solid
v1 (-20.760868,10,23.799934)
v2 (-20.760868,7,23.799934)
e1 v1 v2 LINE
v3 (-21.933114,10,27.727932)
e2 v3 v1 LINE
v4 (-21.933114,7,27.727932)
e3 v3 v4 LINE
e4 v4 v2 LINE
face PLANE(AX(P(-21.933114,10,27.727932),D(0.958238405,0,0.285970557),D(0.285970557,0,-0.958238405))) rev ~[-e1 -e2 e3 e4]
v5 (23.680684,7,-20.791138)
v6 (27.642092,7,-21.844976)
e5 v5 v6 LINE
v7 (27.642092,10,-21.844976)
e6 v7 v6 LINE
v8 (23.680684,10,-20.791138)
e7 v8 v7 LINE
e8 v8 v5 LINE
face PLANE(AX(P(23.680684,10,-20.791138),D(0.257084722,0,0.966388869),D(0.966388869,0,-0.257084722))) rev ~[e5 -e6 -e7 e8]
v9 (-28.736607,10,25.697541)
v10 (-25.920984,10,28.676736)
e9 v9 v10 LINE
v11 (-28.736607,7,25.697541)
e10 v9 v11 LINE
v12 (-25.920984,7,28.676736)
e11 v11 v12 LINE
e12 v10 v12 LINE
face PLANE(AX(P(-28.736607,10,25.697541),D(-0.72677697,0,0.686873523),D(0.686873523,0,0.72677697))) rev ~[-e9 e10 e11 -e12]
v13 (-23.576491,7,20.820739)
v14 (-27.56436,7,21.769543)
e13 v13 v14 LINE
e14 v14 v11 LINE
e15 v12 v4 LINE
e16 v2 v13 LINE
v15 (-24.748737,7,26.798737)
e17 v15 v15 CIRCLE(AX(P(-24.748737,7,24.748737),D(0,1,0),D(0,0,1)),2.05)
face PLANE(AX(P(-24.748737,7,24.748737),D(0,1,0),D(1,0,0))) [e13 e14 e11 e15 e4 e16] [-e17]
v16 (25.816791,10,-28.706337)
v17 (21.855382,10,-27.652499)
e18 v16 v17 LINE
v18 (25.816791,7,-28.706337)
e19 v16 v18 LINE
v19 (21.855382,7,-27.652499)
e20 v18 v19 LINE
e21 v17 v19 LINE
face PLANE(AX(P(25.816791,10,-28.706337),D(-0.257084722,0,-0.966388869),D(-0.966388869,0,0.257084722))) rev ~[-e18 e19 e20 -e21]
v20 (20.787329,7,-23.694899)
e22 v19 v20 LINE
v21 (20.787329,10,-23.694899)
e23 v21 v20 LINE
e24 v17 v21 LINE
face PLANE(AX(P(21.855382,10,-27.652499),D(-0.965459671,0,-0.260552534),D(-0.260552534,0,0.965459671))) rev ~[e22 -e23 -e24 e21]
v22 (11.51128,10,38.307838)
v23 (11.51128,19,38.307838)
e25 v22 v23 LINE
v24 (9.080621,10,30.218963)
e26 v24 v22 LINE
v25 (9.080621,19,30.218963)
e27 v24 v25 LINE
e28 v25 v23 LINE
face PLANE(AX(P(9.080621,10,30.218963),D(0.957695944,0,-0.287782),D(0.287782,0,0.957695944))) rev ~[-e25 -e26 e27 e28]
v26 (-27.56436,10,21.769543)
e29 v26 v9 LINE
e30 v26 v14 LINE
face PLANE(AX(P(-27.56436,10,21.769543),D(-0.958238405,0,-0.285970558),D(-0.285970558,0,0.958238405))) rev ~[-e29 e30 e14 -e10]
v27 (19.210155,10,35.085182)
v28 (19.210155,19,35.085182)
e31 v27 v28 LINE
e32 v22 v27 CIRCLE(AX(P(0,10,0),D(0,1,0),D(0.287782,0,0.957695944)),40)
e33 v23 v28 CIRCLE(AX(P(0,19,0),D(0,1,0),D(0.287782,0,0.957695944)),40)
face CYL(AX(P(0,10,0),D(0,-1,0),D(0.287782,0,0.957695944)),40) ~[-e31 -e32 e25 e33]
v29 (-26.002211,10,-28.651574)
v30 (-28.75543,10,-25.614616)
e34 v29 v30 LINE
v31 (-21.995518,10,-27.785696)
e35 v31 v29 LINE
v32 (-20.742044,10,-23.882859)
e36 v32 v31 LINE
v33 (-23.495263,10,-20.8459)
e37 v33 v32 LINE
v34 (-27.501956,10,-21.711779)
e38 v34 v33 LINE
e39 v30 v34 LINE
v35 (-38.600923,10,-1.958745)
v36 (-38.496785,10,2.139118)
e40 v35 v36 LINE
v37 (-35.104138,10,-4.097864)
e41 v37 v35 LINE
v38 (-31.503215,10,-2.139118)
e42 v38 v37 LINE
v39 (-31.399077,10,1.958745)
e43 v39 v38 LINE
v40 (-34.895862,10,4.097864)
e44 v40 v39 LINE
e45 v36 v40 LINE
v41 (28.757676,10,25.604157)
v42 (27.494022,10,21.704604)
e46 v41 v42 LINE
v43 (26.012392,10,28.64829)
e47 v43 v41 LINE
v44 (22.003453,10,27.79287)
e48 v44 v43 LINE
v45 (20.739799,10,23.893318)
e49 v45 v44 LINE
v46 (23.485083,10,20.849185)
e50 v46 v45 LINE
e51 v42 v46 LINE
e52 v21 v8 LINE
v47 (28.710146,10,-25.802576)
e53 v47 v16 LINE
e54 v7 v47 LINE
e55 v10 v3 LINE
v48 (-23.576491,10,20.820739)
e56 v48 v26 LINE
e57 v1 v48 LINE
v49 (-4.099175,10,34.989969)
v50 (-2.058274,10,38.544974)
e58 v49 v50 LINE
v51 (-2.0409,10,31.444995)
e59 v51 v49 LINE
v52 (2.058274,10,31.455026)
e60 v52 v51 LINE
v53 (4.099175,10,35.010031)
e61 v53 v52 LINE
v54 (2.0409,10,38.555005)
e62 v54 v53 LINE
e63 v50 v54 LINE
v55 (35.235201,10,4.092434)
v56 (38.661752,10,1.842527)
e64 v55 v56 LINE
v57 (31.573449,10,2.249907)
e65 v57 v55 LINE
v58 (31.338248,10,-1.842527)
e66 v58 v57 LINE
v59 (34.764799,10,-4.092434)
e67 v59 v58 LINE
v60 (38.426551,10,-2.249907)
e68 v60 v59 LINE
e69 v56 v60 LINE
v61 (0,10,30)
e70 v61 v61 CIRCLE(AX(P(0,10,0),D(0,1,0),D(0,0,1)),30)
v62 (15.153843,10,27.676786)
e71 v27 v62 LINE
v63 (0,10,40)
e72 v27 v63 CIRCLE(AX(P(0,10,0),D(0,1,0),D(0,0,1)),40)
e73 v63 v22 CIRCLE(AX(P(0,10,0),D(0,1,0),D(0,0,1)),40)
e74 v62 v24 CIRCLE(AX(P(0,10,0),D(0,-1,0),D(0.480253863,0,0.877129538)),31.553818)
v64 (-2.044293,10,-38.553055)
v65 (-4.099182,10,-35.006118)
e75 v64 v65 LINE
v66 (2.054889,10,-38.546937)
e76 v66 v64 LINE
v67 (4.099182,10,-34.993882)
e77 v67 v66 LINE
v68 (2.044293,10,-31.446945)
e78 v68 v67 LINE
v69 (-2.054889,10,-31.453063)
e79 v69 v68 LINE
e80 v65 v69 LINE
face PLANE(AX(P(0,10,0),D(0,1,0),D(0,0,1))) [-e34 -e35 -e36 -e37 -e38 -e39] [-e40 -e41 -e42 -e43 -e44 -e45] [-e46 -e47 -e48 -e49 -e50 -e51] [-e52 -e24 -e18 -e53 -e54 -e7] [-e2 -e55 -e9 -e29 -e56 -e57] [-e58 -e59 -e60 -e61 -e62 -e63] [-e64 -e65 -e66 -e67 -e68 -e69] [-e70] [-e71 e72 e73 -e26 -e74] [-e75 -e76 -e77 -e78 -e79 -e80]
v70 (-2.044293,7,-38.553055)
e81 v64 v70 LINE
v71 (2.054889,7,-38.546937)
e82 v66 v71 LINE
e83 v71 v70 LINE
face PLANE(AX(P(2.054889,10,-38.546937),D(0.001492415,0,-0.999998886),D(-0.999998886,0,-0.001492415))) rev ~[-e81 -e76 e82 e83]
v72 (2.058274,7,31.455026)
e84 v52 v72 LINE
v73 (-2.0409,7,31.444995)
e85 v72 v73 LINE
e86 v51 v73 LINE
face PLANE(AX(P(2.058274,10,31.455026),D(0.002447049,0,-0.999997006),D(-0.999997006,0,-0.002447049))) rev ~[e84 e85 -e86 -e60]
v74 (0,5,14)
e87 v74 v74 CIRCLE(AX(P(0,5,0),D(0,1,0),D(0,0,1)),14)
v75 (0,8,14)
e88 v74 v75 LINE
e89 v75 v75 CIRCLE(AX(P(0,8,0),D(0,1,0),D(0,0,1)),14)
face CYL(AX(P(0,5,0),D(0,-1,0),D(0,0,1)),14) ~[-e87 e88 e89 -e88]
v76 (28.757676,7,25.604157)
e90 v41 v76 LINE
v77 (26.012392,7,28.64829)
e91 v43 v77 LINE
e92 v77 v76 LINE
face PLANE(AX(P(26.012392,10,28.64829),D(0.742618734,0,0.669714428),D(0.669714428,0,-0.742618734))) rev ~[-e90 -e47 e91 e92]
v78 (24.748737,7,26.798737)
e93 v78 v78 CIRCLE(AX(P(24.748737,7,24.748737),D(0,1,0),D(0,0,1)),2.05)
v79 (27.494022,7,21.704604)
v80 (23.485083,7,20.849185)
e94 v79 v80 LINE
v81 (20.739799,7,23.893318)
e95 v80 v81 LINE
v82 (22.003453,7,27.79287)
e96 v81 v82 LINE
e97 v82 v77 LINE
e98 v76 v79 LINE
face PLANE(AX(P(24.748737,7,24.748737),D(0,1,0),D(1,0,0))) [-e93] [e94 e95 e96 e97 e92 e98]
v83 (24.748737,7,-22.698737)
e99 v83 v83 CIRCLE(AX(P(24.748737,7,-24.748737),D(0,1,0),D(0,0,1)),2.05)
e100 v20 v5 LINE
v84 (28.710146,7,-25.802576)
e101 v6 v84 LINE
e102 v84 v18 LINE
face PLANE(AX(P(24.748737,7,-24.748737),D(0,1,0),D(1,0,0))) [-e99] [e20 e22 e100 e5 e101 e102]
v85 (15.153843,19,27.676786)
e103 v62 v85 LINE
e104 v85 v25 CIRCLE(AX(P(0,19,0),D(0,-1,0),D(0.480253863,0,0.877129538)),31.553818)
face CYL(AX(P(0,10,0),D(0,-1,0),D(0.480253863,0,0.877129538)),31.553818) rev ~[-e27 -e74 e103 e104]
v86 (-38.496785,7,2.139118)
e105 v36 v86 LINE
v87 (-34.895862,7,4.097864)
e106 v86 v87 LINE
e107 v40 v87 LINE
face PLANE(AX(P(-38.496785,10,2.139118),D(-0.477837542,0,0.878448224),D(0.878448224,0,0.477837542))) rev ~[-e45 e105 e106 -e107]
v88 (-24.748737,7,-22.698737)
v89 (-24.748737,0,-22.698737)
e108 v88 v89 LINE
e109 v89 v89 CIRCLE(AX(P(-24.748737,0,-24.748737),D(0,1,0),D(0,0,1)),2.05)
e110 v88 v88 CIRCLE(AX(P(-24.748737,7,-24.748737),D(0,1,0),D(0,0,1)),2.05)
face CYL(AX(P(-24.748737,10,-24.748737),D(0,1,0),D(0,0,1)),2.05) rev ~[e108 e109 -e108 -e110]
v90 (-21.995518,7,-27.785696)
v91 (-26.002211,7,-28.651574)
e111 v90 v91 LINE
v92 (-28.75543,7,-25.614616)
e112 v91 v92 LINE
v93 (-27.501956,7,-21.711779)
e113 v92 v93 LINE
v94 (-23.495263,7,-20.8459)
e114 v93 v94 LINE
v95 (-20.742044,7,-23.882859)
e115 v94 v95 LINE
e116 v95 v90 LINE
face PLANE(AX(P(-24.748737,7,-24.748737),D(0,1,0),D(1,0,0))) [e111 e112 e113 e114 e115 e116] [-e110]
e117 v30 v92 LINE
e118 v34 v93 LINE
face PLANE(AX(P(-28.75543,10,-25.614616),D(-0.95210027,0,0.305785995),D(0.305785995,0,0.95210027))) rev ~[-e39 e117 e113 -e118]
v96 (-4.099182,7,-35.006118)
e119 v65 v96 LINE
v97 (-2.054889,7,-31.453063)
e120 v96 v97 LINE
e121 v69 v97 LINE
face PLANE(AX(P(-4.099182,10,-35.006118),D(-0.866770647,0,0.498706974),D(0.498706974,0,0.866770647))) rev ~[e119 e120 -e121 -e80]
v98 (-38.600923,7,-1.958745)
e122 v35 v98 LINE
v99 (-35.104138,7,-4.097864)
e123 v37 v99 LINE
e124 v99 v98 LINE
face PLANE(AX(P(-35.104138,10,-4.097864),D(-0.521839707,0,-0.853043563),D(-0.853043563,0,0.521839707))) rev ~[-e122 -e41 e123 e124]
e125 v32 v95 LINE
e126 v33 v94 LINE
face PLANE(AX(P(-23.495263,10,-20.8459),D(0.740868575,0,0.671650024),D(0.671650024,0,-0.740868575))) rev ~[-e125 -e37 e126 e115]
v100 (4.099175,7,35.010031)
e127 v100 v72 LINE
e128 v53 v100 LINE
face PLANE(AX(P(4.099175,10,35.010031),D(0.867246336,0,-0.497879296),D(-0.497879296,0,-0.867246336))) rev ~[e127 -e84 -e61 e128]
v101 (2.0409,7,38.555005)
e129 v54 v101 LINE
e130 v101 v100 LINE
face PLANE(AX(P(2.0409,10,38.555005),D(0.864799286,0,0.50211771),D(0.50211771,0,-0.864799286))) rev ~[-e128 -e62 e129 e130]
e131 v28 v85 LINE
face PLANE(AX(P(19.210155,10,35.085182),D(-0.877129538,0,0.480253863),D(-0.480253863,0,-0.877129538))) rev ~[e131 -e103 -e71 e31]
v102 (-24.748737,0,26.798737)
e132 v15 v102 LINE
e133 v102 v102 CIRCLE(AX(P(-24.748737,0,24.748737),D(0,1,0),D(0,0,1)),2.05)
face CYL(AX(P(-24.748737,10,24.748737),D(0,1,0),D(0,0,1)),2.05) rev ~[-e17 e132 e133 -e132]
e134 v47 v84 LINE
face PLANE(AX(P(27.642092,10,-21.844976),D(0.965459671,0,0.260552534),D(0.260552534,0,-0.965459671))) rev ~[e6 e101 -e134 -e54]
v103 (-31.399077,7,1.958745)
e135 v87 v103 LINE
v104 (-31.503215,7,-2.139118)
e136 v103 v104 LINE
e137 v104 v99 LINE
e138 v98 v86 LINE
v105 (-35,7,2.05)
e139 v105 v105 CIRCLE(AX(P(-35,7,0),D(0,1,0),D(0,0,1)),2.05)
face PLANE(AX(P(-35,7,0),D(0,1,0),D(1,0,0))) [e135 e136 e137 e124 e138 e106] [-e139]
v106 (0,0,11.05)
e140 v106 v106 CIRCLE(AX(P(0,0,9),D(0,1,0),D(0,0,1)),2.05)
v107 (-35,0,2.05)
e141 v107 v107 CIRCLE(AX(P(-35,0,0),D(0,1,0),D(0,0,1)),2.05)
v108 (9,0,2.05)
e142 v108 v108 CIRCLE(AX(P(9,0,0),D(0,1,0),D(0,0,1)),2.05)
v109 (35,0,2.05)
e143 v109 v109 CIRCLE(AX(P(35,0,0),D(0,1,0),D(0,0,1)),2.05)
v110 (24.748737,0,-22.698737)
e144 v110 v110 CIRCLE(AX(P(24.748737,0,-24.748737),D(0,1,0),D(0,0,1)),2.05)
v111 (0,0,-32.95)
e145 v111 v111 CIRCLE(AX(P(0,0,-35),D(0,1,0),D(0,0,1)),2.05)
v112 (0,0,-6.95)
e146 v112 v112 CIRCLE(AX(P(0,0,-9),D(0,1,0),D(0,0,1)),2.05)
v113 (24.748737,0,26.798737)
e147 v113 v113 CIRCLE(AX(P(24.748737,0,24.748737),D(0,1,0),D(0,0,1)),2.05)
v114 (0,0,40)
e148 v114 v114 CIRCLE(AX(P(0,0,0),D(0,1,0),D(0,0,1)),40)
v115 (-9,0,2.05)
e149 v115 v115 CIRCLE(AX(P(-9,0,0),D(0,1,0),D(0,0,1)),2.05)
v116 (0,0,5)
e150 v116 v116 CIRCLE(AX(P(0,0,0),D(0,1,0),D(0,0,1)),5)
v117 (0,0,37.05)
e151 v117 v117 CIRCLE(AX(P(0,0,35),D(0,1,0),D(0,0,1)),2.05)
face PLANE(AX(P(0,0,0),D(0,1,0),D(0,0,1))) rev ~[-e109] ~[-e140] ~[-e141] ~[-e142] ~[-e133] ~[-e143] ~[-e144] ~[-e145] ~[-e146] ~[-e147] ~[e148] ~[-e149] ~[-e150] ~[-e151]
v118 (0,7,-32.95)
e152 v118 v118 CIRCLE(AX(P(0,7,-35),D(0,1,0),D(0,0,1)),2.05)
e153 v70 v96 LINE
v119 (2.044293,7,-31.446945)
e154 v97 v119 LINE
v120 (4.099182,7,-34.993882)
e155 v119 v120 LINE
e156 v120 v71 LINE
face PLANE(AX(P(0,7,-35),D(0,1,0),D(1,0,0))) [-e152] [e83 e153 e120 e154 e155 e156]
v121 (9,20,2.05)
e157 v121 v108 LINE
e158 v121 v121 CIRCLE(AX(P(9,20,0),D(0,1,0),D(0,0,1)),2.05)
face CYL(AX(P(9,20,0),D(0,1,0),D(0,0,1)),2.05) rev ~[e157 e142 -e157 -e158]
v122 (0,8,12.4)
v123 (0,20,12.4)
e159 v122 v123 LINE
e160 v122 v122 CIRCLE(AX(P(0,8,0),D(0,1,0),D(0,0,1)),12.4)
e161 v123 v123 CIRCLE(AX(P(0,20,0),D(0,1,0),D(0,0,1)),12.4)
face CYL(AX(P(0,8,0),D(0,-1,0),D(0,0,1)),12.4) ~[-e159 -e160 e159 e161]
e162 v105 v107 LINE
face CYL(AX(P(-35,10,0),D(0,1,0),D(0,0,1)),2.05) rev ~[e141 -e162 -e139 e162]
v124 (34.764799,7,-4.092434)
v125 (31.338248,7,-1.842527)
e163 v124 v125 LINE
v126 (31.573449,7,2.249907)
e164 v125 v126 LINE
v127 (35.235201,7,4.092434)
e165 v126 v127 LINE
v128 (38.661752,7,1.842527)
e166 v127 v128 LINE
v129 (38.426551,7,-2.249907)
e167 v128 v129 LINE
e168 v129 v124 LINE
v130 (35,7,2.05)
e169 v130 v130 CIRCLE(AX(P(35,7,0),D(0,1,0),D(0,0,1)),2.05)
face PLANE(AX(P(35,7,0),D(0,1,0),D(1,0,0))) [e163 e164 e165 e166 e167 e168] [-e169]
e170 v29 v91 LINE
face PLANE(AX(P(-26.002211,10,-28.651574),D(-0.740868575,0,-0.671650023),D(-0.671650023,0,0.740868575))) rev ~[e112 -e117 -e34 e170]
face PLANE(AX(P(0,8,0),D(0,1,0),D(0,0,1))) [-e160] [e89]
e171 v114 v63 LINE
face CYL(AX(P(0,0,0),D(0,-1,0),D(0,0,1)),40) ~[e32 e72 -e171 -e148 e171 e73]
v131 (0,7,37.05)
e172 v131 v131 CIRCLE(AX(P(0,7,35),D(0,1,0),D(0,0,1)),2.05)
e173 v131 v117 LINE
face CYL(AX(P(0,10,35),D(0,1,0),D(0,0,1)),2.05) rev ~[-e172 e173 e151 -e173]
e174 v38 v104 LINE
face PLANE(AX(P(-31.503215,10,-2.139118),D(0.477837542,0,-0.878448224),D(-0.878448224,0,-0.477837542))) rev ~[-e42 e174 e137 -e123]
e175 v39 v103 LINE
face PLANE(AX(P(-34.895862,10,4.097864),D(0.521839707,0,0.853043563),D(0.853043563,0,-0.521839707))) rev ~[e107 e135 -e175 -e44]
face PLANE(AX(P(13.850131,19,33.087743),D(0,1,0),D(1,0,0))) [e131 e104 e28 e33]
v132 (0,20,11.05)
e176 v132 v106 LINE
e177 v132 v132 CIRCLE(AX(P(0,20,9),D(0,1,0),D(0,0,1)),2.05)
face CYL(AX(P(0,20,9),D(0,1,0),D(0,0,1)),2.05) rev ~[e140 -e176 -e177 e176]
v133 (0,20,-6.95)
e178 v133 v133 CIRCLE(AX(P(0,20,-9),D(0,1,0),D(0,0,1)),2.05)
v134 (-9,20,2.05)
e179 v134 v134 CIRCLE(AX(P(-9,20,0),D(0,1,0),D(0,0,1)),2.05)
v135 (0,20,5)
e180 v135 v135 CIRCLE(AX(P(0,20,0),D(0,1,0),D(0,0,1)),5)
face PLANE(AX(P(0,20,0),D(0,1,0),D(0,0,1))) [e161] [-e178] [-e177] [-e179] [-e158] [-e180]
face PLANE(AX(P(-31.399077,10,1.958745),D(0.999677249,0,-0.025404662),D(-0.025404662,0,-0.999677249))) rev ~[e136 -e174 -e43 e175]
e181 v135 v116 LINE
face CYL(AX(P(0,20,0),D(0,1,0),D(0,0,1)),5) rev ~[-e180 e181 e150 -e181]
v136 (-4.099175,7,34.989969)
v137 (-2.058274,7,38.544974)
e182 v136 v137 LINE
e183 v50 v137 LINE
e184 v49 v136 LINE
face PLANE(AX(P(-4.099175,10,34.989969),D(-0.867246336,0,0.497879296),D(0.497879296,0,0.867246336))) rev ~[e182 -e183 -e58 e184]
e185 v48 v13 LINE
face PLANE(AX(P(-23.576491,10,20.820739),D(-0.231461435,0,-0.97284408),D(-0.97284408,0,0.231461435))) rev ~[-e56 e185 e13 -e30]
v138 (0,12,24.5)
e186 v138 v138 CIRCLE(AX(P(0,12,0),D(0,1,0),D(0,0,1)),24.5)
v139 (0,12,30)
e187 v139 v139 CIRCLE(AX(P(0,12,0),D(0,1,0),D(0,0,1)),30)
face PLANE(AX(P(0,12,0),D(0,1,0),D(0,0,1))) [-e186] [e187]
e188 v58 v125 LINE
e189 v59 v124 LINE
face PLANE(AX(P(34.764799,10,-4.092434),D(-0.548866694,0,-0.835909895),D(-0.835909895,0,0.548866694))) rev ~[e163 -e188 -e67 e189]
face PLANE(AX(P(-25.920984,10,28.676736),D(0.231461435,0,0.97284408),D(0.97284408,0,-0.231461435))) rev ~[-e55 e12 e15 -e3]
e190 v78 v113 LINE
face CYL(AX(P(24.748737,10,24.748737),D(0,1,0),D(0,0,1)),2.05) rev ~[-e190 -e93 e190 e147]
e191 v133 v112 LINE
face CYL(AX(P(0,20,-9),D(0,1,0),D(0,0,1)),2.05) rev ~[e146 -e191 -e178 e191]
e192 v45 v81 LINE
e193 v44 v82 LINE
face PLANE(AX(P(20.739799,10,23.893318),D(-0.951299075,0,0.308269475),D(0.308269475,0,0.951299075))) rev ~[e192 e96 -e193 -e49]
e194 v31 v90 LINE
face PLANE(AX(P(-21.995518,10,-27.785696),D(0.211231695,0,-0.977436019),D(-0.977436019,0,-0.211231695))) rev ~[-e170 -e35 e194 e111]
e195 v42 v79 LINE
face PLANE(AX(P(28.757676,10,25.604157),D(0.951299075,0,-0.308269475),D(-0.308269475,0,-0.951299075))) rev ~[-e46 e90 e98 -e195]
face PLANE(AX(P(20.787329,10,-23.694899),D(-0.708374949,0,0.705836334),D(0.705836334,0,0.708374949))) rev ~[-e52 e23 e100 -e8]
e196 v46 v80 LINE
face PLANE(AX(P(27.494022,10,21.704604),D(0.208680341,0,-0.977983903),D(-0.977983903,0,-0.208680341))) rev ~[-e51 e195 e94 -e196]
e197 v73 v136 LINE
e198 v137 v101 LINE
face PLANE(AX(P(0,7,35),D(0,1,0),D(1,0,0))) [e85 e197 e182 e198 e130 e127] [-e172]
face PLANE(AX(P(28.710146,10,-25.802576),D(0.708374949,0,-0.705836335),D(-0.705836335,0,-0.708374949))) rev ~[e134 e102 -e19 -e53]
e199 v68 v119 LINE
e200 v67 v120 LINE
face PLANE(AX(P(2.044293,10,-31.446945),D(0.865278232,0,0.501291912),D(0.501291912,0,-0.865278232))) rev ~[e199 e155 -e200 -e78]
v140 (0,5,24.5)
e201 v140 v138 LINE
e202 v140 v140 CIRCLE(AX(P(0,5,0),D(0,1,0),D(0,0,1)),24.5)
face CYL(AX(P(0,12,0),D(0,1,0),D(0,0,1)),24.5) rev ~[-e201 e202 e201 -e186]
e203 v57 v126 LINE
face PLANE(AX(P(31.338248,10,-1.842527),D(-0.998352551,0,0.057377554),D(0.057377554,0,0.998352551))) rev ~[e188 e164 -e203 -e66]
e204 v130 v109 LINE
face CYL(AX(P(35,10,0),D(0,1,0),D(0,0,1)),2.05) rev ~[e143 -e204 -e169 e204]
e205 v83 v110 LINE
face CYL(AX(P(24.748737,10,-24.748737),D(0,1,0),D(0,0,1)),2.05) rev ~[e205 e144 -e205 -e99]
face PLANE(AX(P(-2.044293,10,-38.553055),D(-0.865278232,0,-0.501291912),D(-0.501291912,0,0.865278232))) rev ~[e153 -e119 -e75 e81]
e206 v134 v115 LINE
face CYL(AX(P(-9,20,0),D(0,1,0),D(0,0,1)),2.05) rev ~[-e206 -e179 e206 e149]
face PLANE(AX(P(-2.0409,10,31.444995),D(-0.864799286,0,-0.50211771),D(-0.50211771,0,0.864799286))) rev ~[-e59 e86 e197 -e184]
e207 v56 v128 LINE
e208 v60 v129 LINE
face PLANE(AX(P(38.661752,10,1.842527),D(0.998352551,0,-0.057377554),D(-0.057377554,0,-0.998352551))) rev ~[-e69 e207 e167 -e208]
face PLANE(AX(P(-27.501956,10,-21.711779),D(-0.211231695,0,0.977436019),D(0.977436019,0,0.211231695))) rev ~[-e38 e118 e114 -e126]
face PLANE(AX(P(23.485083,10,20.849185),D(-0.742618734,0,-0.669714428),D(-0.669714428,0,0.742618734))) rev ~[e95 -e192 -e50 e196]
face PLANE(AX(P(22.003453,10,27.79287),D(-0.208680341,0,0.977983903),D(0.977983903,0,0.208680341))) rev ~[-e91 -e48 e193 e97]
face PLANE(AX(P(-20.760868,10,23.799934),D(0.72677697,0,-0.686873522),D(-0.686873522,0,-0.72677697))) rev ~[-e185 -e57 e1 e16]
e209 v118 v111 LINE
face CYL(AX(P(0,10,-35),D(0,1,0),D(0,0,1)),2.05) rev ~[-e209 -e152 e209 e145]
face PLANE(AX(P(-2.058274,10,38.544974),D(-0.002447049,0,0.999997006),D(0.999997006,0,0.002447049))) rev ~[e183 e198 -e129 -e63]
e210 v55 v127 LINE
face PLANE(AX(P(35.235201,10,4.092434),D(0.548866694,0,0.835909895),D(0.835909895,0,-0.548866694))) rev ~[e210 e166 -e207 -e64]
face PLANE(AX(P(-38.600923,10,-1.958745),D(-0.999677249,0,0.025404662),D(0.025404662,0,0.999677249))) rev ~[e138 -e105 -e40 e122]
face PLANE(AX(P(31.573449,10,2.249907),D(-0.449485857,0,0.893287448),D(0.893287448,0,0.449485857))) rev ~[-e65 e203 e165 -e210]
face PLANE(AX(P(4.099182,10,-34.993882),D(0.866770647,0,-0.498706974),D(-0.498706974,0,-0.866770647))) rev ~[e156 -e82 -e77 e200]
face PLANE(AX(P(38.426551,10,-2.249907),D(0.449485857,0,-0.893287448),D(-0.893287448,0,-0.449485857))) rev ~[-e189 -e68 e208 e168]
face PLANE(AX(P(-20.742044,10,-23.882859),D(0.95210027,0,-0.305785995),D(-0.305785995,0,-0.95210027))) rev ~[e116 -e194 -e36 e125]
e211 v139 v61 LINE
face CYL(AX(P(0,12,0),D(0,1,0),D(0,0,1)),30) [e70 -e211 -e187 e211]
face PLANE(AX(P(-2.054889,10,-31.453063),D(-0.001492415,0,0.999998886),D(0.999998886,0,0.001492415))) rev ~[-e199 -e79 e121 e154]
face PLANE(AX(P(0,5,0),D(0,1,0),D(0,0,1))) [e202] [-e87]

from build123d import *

# Parameters (mm, degrees)
SKETCH1_R           = 40
BOSS_EXTRUDE1_DEPTH = 10
SKETCH2_R           = 24.5
CUT_EXTRUDE1_DEPTH  = 5
BOSS_EXTRUDE2_START = 2
SKETCH3_R           = 30
SKETCH3_R_2         = 24.5
BOSS_EXTRUDE2_DEPTH = 2
SKETCH4_R           = 14
BOSS_EXTRUDE3_DEPTH = 3
SKETCH5_R           = 12.4
BOSS_EXTRUDE4_DEPTH = 12
SKETCH6_R           = 2.05
CUT_EXTRUDE2_DEPTH  = 61
SKETCH7_R           = 5
CUT_EXTRUDE3_DEPTH  = 61
CUT_EXTRUDE6_REACH  = 59.446
SKETCH9_R           = 2.05
CUT_EXTRUDE7_DEPTH  = 3
BOSS_EXTRUDE5_DEPTH = 9


with BuildPart() as part:
    # Sketch1 → Boss-Extrude1 (new body)
    with BuildSketch(Plane(origin=(0, 0, 0), x_dir=(1, 0, 0), z_dir=(0, 1, 0))):
        with Locations(Location((0, 0, 0), (0, 0, 270))):
            Circle(SKETCH1_R)
    extrude(amount=BOSS_EXTRUDE1_DEPTH)

    # Sketch2 → Cut-Extrude1 (cut)
    with BuildSketch(Plane(origin=(0, 10, 0), x_dir=(1, 0, 0), z_dir=(0, 1, 0))):
        with Locations(Location((0, 0, 0), (0, 0, 270))):
            Circle(SKETCH2_R)
    extrude(amount=-CUT_EXTRUDE1_DEPTH, mode=Mode.SUBTRACT)

    # Sketch3 → Boss-Extrude2 (add)
    with BuildSketch(Plane(origin=(0, 10, 0), x_dir=(1, 0, 0), z_dir=(0, 1, 0)).offset(BOSS_EXTRUDE2_START)):
        with Locations(Location((0, 0, 0), (0, 0, 270))):
            Circle(SKETCH3_R)
        with Locations(Location((0, 0, 0), (0, 0, 270))):
            Circle(SKETCH3_R_2, mode=Mode.SUBTRACT)
    extrude(amount=-BOSS_EXTRUDE2_DEPTH)

    # Sketch4 → Boss-Extrude3 (add)
    with BuildSketch(Plane(origin=(0, 5, 0), x_dir=(1, 0, 0), z_dir=(0, 1, 0))):
        with Locations(Location((0, 0, 0), (0, 0, 270))):
            Circle(SKETCH4_R)
    extrude(amount=BOSS_EXTRUDE3_DEPTH)

    # Sketch5 → Boss-Extrude4 (add)
    with BuildSketch(Plane(origin=(0, 8, 0), x_dir=(1, 0, 0), z_dir=(0, 1, 0))):
        with Locations(Location((0, 0, 0), (0, 0, 270))):
            Circle(SKETCH5_R)
    extrude(amount=BOSS_EXTRUDE4_DEPTH)

    # Sketch6 → Cut-Extrude2 (cut, through all)
    with BuildSketch(Plane(origin=(0, 20, 0), x_dir=(1, 0, 0), z_dir=(0, 1, 0))):
        with Locations(Location((-9, 0, 0), (0, 0, 270))):
            Circle(SKETCH6_R)
        with Locations(Location((0, 9, 0), (0, 0, 270))):
            Circle(SKETCH6_R)
        with Locations(Location((9, 0, 0), (0, 0, 270))):
            Circle(SKETCH6_R)
        with Locations(Location((0, -9, 0), (0, 0, 270))):
            Circle(SKETCH6_R)
    extrude(amount=-CUT_EXTRUDE2_DEPTH, mode=Mode.SUBTRACT)

    # Sketch7 → Cut-Extrude3 (cut, through all)
    with BuildSketch(Plane(origin=(0, 20, 0), x_dir=(1, 0, 0), z_dir=(0, 1, 0))):
        with Locations(Location((0, 0, 0), (0, 0, 270))):
            Circle(SKETCH7_R)
    extrude(amount=-CUT_EXTRUDE3_DEPTH, mode=Mode.SUBTRACT)

    # Sketch9 → Cut-Extrude6 (cut, up to next)
    with BuildSketch(Plane(origin=(0, 10, 0), x_dir=(1, 0, 0), z_dir=(0, 1, 0)), mode=Mode.PRIVATE) as cut_extrude6_sk1:
        with Locations(Location((0, 35, 0), (0, 0, 270))):
            Circle(SKETCH9_R)
    cut_extrude6_tool1 = extrude(cut_extrude6_sk1.sketch, amount=-CUT_EXTRUDE6_REACH, mode=Mode.PRIVATE) & part.part
    # Sketch9 → Cut-Extrude6 (cut, up to next)
    with BuildSketch(Plane(origin=(0, 10, 0), x_dir=(1, 0, 0), z_dir=(0, 1, 0)), mode=Mode.PRIVATE) as cut_extrude6_sk2:
        with Locations(Location((35, 0, 0), (0, 0, 270))):
            Circle(SKETCH9_R)
    cut_extrude6_tool2 = extrude(cut_extrude6_sk2.sketch, amount=-CUT_EXTRUDE6_REACH, mode=Mode.PRIVATE) & part.part
    # Sketch9 → Cut-Extrude6 (cut, up to next)
    with BuildSketch(Plane(origin=(0, 10, 0), x_dir=(1, 0, 0), z_dir=(0, 1, 0)), mode=Mode.PRIVATE) as cut_extrude6_sk3:
        with Locations(Location((0, -35, 0), (0, 0, 270))):
            Circle(SKETCH9_R)
    cut_extrude6_tool3 = extrude(cut_extrude6_sk3.sketch, amount=-CUT_EXTRUDE6_REACH, mode=Mode.PRIVATE) & part.part
    # Sketch9 → Cut-Extrude6 (cut, up to next)
    with BuildSketch(Plane(origin=(0, 10, 0), x_dir=(1, 0, 0), z_dir=(0, 1, 0)), mode=Mode.PRIVATE) as cut_extrude6_sk4:
        with Locations(Location((-35, 0, 0), (0, 0, 270))):
            Circle(SKETCH9_R)
    cut_extrude6_tool4 = extrude(cut_extrude6_sk4.sketch, amount=-CUT_EXTRUDE6_REACH, mode=Mode.PRIVATE) & part.part
    # Sketch9 → Cut-Extrude6 (cut, up to next)
    with BuildSketch(Plane(origin=(0, 10, 0), x_dir=(1, 0, 0), z_dir=(0, 1, 0)), mode=Mode.PRIVATE) as cut_extrude6_sk5:
        with Locations(Location((-24.748737342, 24.748737342, 0), (0, 0, 270))):
            Circle(SKETCH9_R)
    cut_extrude6_tool5 = extrude(cut_extrude6_sk5.sketch, amount=-CUT_EXTRUDE6_REACH, mode=Mode.PRIVATE) & part.part
    # Sketch9 → Cut-Extrude6 (cut, up to next)
    with BuildSketch(Plane(origin=(0, 10, 0), x_dir=(1, 0, 0), z_dir=(0, 1, 0)), mode=Mode.PRIVATE) as cut_extrude6_sk6:
        with Locations(Location((24.748737342, 24.748737342, 0), (0, 0, 270))):
            Circle(SKETCH9_R)
    cut_extrude6_tool6 = extrude(cut_extrude6_sk6.sketch, amount=-CUT_EXTRUDE6_REACH, mode=Mode.PRIVATE) & part.part
    # Sketch9 → Cut-Extrude6 (cut, up to next)
    with BuildSketch(Plane(origin=(0, 10, 0), x_dir=(1, 0, 0), z_dir=(0, 1, 0)), mode=Mode.PRIVATE) as cut_extrude6_sk7:
        with Locations(Location((24.748737342, -24.748737342, 0), (0, 0, 270))):
            Circle(SKETCH9_R)
    cut_extrude6_tool7 = extrude(cut_extrude6_sk7.sketch, amount=-CUT_EXTRUDE6_REACH, mode=Mode.PRIVATE) & part.part
    # Sketch9 → Cut-Extrude6 (cut, up to next)
    with BuildSketch(Plane(origin=(0, 10, 0), x_dir=(1, 0, 0), z_dir=(0, 1, 0)), mode=Mode.PRIVATE) as cut_extrude6_sk8:
        with Locations(Location((-24.748737342, -24.748737342, 0), (0, 0, 270))):
            Circle(SKETCH9_R)
    cut_extrude6_tool8 = extrude(cut_extrude6_sk8.sketch, amount=-CUT_EXTRUDE6_REACH, mode=Mode.PRIVATE) & part.part
    add(cut_extrude6_tool1.solids().sort_by_distance((0, 10, -35))[0], mode=Mode.SUBTRACT)
    add(cut_extrude6_tool2.solids().sort_by_distance((35, 10, 0))[0], mode=Mode.SUBTRACT)
    add(cut_extrude6_tool3.solids().sort_by_distance((0, 10, 35))[0], mode=Mode.SUBTRACT)
    add(cut_extrude6_tool4.solids().sort_by_distance((-35, 10, 0))[0], mode=Mode.SUBTRACT)
    add(cut_extrude6_tool5.solids().sort_by_distance((-24.748737, 10, -24.748737))[0], mode=Mode.SUBTRACT)
    add(cut_extrude6_tool6.solids().sort_by_distance((24.748737, 10, -24.748737))[0], mode=Mode.SUBTRACT)
    add(cut_extrude6_tool7.solids().sort_by_distance((24.748737, 10, 24.748737))[0], mode=Mode.SUBTRACT)
    add(cut_extrude6_tool8.solids().sort_by_distance((-24.748737, 10, 24.748737))[0], mode=Mode.SUBTRACT)

    # Sketch10 → Cut-Extrude7 (cut)
    with BuildSketch(Plane(origin=(0, 10, 0), x_dir=(1, 0, 0), z_dir=(0, 1, 0))):
        Polygon((2.044293101, 31.44694511), (4.099182346, 34.993882313), (2.054889246, 38.546937203), (-2.044293101, 38.55305489), (-4.099182346, 35.006117687), (-2.054889246, 31.453062797), align=None)
        Polygon((23.680683804, 20.791137693), (27.642092406, 21.844976021), (28.710145944, 25.802575669), (25.816790879, 28.70633699), (21.855382277, 27.652498662), (20.78732874, 23.694899014), align=None)
        Polygon((31.573449102, -2.24990717), (35.235201316, -4.09243371), (38.661752215, -1.84252654), (38.426550898, 2.24990717), (34.764798684, 4.09243371), (31.338247785, 1.84252654), align=None)
        Polygon((20.739798525, -23.89331762), (22.003452724, -27.792870338), (26.01239154, -28.648290059), (28.757676158, -25.604157063), (27.494021959, -21.704604345), (23.485083143, -20.849184624), align=None)
        Polygon((2.058274344, -31.455026085), (-2.040900294, -31.444995172), (-4.099174638, -34.989969087), (-2.058274344, -38.544973915), (2.040900294, -38.555004828), (4.099174638, -35.010030913), align=None)
        Polygon((-20.760867622, -23.799933658), (-23.576490575, -20.820739015), (-27.564360295, -21.769542699), (-28.736607062, -25.697541025), (-25.920984108, -28.676735668), (-21.933114388, -27.727931984), align=None)
        Polygon((-31.399076536, -1.958745399), (-31.503214993, 2.139118497), (-35.104138457, 4.097863897), (-38.600923464, 1.958745399), (-38.496785007, -2.139118497), (-34.895861543, -4.097863897), align=None)
        Polygon((-23.495263392, 20.845900375), (-20.742044406, 23.882859142), (-21.995518356, 27.785696109), (-26.002211292, 28.651574308), (-28.755430277, 25.614615541), (-27.501956327, 21.711778574), align=None)
    extrude(amount=-CUT_EXTRUDE7_DEPTH, mode=Mode.SUBTRACT)

    # Sketch11 → Boss-Extrude5 (add)
    with BuildSketch(Plane(origin=(0, 10, 0), x_dir=(1, 0, 0), z_dir=(0, 1, 0))):
        with BuildLine():
            Line((9.080620819, -30.218963387), (11.511280004, -38.307837745))
            ThreePointArc((11.511280004, -38.307837745), (15.444999622, -36.897858836), (19.210154537, -35.085181525))
            Line((19.210154537, -35.085181525), (15.153842941, -27.676785701))
            ThreePointArc((15.153842941, -27.676785701), (12.18371763, -29.106707944), (9.080620819, -30.218963387))
        make_face()
    extrude(amount=BOSS_EXTRUDE5_DEPTH)


solid = part.part
